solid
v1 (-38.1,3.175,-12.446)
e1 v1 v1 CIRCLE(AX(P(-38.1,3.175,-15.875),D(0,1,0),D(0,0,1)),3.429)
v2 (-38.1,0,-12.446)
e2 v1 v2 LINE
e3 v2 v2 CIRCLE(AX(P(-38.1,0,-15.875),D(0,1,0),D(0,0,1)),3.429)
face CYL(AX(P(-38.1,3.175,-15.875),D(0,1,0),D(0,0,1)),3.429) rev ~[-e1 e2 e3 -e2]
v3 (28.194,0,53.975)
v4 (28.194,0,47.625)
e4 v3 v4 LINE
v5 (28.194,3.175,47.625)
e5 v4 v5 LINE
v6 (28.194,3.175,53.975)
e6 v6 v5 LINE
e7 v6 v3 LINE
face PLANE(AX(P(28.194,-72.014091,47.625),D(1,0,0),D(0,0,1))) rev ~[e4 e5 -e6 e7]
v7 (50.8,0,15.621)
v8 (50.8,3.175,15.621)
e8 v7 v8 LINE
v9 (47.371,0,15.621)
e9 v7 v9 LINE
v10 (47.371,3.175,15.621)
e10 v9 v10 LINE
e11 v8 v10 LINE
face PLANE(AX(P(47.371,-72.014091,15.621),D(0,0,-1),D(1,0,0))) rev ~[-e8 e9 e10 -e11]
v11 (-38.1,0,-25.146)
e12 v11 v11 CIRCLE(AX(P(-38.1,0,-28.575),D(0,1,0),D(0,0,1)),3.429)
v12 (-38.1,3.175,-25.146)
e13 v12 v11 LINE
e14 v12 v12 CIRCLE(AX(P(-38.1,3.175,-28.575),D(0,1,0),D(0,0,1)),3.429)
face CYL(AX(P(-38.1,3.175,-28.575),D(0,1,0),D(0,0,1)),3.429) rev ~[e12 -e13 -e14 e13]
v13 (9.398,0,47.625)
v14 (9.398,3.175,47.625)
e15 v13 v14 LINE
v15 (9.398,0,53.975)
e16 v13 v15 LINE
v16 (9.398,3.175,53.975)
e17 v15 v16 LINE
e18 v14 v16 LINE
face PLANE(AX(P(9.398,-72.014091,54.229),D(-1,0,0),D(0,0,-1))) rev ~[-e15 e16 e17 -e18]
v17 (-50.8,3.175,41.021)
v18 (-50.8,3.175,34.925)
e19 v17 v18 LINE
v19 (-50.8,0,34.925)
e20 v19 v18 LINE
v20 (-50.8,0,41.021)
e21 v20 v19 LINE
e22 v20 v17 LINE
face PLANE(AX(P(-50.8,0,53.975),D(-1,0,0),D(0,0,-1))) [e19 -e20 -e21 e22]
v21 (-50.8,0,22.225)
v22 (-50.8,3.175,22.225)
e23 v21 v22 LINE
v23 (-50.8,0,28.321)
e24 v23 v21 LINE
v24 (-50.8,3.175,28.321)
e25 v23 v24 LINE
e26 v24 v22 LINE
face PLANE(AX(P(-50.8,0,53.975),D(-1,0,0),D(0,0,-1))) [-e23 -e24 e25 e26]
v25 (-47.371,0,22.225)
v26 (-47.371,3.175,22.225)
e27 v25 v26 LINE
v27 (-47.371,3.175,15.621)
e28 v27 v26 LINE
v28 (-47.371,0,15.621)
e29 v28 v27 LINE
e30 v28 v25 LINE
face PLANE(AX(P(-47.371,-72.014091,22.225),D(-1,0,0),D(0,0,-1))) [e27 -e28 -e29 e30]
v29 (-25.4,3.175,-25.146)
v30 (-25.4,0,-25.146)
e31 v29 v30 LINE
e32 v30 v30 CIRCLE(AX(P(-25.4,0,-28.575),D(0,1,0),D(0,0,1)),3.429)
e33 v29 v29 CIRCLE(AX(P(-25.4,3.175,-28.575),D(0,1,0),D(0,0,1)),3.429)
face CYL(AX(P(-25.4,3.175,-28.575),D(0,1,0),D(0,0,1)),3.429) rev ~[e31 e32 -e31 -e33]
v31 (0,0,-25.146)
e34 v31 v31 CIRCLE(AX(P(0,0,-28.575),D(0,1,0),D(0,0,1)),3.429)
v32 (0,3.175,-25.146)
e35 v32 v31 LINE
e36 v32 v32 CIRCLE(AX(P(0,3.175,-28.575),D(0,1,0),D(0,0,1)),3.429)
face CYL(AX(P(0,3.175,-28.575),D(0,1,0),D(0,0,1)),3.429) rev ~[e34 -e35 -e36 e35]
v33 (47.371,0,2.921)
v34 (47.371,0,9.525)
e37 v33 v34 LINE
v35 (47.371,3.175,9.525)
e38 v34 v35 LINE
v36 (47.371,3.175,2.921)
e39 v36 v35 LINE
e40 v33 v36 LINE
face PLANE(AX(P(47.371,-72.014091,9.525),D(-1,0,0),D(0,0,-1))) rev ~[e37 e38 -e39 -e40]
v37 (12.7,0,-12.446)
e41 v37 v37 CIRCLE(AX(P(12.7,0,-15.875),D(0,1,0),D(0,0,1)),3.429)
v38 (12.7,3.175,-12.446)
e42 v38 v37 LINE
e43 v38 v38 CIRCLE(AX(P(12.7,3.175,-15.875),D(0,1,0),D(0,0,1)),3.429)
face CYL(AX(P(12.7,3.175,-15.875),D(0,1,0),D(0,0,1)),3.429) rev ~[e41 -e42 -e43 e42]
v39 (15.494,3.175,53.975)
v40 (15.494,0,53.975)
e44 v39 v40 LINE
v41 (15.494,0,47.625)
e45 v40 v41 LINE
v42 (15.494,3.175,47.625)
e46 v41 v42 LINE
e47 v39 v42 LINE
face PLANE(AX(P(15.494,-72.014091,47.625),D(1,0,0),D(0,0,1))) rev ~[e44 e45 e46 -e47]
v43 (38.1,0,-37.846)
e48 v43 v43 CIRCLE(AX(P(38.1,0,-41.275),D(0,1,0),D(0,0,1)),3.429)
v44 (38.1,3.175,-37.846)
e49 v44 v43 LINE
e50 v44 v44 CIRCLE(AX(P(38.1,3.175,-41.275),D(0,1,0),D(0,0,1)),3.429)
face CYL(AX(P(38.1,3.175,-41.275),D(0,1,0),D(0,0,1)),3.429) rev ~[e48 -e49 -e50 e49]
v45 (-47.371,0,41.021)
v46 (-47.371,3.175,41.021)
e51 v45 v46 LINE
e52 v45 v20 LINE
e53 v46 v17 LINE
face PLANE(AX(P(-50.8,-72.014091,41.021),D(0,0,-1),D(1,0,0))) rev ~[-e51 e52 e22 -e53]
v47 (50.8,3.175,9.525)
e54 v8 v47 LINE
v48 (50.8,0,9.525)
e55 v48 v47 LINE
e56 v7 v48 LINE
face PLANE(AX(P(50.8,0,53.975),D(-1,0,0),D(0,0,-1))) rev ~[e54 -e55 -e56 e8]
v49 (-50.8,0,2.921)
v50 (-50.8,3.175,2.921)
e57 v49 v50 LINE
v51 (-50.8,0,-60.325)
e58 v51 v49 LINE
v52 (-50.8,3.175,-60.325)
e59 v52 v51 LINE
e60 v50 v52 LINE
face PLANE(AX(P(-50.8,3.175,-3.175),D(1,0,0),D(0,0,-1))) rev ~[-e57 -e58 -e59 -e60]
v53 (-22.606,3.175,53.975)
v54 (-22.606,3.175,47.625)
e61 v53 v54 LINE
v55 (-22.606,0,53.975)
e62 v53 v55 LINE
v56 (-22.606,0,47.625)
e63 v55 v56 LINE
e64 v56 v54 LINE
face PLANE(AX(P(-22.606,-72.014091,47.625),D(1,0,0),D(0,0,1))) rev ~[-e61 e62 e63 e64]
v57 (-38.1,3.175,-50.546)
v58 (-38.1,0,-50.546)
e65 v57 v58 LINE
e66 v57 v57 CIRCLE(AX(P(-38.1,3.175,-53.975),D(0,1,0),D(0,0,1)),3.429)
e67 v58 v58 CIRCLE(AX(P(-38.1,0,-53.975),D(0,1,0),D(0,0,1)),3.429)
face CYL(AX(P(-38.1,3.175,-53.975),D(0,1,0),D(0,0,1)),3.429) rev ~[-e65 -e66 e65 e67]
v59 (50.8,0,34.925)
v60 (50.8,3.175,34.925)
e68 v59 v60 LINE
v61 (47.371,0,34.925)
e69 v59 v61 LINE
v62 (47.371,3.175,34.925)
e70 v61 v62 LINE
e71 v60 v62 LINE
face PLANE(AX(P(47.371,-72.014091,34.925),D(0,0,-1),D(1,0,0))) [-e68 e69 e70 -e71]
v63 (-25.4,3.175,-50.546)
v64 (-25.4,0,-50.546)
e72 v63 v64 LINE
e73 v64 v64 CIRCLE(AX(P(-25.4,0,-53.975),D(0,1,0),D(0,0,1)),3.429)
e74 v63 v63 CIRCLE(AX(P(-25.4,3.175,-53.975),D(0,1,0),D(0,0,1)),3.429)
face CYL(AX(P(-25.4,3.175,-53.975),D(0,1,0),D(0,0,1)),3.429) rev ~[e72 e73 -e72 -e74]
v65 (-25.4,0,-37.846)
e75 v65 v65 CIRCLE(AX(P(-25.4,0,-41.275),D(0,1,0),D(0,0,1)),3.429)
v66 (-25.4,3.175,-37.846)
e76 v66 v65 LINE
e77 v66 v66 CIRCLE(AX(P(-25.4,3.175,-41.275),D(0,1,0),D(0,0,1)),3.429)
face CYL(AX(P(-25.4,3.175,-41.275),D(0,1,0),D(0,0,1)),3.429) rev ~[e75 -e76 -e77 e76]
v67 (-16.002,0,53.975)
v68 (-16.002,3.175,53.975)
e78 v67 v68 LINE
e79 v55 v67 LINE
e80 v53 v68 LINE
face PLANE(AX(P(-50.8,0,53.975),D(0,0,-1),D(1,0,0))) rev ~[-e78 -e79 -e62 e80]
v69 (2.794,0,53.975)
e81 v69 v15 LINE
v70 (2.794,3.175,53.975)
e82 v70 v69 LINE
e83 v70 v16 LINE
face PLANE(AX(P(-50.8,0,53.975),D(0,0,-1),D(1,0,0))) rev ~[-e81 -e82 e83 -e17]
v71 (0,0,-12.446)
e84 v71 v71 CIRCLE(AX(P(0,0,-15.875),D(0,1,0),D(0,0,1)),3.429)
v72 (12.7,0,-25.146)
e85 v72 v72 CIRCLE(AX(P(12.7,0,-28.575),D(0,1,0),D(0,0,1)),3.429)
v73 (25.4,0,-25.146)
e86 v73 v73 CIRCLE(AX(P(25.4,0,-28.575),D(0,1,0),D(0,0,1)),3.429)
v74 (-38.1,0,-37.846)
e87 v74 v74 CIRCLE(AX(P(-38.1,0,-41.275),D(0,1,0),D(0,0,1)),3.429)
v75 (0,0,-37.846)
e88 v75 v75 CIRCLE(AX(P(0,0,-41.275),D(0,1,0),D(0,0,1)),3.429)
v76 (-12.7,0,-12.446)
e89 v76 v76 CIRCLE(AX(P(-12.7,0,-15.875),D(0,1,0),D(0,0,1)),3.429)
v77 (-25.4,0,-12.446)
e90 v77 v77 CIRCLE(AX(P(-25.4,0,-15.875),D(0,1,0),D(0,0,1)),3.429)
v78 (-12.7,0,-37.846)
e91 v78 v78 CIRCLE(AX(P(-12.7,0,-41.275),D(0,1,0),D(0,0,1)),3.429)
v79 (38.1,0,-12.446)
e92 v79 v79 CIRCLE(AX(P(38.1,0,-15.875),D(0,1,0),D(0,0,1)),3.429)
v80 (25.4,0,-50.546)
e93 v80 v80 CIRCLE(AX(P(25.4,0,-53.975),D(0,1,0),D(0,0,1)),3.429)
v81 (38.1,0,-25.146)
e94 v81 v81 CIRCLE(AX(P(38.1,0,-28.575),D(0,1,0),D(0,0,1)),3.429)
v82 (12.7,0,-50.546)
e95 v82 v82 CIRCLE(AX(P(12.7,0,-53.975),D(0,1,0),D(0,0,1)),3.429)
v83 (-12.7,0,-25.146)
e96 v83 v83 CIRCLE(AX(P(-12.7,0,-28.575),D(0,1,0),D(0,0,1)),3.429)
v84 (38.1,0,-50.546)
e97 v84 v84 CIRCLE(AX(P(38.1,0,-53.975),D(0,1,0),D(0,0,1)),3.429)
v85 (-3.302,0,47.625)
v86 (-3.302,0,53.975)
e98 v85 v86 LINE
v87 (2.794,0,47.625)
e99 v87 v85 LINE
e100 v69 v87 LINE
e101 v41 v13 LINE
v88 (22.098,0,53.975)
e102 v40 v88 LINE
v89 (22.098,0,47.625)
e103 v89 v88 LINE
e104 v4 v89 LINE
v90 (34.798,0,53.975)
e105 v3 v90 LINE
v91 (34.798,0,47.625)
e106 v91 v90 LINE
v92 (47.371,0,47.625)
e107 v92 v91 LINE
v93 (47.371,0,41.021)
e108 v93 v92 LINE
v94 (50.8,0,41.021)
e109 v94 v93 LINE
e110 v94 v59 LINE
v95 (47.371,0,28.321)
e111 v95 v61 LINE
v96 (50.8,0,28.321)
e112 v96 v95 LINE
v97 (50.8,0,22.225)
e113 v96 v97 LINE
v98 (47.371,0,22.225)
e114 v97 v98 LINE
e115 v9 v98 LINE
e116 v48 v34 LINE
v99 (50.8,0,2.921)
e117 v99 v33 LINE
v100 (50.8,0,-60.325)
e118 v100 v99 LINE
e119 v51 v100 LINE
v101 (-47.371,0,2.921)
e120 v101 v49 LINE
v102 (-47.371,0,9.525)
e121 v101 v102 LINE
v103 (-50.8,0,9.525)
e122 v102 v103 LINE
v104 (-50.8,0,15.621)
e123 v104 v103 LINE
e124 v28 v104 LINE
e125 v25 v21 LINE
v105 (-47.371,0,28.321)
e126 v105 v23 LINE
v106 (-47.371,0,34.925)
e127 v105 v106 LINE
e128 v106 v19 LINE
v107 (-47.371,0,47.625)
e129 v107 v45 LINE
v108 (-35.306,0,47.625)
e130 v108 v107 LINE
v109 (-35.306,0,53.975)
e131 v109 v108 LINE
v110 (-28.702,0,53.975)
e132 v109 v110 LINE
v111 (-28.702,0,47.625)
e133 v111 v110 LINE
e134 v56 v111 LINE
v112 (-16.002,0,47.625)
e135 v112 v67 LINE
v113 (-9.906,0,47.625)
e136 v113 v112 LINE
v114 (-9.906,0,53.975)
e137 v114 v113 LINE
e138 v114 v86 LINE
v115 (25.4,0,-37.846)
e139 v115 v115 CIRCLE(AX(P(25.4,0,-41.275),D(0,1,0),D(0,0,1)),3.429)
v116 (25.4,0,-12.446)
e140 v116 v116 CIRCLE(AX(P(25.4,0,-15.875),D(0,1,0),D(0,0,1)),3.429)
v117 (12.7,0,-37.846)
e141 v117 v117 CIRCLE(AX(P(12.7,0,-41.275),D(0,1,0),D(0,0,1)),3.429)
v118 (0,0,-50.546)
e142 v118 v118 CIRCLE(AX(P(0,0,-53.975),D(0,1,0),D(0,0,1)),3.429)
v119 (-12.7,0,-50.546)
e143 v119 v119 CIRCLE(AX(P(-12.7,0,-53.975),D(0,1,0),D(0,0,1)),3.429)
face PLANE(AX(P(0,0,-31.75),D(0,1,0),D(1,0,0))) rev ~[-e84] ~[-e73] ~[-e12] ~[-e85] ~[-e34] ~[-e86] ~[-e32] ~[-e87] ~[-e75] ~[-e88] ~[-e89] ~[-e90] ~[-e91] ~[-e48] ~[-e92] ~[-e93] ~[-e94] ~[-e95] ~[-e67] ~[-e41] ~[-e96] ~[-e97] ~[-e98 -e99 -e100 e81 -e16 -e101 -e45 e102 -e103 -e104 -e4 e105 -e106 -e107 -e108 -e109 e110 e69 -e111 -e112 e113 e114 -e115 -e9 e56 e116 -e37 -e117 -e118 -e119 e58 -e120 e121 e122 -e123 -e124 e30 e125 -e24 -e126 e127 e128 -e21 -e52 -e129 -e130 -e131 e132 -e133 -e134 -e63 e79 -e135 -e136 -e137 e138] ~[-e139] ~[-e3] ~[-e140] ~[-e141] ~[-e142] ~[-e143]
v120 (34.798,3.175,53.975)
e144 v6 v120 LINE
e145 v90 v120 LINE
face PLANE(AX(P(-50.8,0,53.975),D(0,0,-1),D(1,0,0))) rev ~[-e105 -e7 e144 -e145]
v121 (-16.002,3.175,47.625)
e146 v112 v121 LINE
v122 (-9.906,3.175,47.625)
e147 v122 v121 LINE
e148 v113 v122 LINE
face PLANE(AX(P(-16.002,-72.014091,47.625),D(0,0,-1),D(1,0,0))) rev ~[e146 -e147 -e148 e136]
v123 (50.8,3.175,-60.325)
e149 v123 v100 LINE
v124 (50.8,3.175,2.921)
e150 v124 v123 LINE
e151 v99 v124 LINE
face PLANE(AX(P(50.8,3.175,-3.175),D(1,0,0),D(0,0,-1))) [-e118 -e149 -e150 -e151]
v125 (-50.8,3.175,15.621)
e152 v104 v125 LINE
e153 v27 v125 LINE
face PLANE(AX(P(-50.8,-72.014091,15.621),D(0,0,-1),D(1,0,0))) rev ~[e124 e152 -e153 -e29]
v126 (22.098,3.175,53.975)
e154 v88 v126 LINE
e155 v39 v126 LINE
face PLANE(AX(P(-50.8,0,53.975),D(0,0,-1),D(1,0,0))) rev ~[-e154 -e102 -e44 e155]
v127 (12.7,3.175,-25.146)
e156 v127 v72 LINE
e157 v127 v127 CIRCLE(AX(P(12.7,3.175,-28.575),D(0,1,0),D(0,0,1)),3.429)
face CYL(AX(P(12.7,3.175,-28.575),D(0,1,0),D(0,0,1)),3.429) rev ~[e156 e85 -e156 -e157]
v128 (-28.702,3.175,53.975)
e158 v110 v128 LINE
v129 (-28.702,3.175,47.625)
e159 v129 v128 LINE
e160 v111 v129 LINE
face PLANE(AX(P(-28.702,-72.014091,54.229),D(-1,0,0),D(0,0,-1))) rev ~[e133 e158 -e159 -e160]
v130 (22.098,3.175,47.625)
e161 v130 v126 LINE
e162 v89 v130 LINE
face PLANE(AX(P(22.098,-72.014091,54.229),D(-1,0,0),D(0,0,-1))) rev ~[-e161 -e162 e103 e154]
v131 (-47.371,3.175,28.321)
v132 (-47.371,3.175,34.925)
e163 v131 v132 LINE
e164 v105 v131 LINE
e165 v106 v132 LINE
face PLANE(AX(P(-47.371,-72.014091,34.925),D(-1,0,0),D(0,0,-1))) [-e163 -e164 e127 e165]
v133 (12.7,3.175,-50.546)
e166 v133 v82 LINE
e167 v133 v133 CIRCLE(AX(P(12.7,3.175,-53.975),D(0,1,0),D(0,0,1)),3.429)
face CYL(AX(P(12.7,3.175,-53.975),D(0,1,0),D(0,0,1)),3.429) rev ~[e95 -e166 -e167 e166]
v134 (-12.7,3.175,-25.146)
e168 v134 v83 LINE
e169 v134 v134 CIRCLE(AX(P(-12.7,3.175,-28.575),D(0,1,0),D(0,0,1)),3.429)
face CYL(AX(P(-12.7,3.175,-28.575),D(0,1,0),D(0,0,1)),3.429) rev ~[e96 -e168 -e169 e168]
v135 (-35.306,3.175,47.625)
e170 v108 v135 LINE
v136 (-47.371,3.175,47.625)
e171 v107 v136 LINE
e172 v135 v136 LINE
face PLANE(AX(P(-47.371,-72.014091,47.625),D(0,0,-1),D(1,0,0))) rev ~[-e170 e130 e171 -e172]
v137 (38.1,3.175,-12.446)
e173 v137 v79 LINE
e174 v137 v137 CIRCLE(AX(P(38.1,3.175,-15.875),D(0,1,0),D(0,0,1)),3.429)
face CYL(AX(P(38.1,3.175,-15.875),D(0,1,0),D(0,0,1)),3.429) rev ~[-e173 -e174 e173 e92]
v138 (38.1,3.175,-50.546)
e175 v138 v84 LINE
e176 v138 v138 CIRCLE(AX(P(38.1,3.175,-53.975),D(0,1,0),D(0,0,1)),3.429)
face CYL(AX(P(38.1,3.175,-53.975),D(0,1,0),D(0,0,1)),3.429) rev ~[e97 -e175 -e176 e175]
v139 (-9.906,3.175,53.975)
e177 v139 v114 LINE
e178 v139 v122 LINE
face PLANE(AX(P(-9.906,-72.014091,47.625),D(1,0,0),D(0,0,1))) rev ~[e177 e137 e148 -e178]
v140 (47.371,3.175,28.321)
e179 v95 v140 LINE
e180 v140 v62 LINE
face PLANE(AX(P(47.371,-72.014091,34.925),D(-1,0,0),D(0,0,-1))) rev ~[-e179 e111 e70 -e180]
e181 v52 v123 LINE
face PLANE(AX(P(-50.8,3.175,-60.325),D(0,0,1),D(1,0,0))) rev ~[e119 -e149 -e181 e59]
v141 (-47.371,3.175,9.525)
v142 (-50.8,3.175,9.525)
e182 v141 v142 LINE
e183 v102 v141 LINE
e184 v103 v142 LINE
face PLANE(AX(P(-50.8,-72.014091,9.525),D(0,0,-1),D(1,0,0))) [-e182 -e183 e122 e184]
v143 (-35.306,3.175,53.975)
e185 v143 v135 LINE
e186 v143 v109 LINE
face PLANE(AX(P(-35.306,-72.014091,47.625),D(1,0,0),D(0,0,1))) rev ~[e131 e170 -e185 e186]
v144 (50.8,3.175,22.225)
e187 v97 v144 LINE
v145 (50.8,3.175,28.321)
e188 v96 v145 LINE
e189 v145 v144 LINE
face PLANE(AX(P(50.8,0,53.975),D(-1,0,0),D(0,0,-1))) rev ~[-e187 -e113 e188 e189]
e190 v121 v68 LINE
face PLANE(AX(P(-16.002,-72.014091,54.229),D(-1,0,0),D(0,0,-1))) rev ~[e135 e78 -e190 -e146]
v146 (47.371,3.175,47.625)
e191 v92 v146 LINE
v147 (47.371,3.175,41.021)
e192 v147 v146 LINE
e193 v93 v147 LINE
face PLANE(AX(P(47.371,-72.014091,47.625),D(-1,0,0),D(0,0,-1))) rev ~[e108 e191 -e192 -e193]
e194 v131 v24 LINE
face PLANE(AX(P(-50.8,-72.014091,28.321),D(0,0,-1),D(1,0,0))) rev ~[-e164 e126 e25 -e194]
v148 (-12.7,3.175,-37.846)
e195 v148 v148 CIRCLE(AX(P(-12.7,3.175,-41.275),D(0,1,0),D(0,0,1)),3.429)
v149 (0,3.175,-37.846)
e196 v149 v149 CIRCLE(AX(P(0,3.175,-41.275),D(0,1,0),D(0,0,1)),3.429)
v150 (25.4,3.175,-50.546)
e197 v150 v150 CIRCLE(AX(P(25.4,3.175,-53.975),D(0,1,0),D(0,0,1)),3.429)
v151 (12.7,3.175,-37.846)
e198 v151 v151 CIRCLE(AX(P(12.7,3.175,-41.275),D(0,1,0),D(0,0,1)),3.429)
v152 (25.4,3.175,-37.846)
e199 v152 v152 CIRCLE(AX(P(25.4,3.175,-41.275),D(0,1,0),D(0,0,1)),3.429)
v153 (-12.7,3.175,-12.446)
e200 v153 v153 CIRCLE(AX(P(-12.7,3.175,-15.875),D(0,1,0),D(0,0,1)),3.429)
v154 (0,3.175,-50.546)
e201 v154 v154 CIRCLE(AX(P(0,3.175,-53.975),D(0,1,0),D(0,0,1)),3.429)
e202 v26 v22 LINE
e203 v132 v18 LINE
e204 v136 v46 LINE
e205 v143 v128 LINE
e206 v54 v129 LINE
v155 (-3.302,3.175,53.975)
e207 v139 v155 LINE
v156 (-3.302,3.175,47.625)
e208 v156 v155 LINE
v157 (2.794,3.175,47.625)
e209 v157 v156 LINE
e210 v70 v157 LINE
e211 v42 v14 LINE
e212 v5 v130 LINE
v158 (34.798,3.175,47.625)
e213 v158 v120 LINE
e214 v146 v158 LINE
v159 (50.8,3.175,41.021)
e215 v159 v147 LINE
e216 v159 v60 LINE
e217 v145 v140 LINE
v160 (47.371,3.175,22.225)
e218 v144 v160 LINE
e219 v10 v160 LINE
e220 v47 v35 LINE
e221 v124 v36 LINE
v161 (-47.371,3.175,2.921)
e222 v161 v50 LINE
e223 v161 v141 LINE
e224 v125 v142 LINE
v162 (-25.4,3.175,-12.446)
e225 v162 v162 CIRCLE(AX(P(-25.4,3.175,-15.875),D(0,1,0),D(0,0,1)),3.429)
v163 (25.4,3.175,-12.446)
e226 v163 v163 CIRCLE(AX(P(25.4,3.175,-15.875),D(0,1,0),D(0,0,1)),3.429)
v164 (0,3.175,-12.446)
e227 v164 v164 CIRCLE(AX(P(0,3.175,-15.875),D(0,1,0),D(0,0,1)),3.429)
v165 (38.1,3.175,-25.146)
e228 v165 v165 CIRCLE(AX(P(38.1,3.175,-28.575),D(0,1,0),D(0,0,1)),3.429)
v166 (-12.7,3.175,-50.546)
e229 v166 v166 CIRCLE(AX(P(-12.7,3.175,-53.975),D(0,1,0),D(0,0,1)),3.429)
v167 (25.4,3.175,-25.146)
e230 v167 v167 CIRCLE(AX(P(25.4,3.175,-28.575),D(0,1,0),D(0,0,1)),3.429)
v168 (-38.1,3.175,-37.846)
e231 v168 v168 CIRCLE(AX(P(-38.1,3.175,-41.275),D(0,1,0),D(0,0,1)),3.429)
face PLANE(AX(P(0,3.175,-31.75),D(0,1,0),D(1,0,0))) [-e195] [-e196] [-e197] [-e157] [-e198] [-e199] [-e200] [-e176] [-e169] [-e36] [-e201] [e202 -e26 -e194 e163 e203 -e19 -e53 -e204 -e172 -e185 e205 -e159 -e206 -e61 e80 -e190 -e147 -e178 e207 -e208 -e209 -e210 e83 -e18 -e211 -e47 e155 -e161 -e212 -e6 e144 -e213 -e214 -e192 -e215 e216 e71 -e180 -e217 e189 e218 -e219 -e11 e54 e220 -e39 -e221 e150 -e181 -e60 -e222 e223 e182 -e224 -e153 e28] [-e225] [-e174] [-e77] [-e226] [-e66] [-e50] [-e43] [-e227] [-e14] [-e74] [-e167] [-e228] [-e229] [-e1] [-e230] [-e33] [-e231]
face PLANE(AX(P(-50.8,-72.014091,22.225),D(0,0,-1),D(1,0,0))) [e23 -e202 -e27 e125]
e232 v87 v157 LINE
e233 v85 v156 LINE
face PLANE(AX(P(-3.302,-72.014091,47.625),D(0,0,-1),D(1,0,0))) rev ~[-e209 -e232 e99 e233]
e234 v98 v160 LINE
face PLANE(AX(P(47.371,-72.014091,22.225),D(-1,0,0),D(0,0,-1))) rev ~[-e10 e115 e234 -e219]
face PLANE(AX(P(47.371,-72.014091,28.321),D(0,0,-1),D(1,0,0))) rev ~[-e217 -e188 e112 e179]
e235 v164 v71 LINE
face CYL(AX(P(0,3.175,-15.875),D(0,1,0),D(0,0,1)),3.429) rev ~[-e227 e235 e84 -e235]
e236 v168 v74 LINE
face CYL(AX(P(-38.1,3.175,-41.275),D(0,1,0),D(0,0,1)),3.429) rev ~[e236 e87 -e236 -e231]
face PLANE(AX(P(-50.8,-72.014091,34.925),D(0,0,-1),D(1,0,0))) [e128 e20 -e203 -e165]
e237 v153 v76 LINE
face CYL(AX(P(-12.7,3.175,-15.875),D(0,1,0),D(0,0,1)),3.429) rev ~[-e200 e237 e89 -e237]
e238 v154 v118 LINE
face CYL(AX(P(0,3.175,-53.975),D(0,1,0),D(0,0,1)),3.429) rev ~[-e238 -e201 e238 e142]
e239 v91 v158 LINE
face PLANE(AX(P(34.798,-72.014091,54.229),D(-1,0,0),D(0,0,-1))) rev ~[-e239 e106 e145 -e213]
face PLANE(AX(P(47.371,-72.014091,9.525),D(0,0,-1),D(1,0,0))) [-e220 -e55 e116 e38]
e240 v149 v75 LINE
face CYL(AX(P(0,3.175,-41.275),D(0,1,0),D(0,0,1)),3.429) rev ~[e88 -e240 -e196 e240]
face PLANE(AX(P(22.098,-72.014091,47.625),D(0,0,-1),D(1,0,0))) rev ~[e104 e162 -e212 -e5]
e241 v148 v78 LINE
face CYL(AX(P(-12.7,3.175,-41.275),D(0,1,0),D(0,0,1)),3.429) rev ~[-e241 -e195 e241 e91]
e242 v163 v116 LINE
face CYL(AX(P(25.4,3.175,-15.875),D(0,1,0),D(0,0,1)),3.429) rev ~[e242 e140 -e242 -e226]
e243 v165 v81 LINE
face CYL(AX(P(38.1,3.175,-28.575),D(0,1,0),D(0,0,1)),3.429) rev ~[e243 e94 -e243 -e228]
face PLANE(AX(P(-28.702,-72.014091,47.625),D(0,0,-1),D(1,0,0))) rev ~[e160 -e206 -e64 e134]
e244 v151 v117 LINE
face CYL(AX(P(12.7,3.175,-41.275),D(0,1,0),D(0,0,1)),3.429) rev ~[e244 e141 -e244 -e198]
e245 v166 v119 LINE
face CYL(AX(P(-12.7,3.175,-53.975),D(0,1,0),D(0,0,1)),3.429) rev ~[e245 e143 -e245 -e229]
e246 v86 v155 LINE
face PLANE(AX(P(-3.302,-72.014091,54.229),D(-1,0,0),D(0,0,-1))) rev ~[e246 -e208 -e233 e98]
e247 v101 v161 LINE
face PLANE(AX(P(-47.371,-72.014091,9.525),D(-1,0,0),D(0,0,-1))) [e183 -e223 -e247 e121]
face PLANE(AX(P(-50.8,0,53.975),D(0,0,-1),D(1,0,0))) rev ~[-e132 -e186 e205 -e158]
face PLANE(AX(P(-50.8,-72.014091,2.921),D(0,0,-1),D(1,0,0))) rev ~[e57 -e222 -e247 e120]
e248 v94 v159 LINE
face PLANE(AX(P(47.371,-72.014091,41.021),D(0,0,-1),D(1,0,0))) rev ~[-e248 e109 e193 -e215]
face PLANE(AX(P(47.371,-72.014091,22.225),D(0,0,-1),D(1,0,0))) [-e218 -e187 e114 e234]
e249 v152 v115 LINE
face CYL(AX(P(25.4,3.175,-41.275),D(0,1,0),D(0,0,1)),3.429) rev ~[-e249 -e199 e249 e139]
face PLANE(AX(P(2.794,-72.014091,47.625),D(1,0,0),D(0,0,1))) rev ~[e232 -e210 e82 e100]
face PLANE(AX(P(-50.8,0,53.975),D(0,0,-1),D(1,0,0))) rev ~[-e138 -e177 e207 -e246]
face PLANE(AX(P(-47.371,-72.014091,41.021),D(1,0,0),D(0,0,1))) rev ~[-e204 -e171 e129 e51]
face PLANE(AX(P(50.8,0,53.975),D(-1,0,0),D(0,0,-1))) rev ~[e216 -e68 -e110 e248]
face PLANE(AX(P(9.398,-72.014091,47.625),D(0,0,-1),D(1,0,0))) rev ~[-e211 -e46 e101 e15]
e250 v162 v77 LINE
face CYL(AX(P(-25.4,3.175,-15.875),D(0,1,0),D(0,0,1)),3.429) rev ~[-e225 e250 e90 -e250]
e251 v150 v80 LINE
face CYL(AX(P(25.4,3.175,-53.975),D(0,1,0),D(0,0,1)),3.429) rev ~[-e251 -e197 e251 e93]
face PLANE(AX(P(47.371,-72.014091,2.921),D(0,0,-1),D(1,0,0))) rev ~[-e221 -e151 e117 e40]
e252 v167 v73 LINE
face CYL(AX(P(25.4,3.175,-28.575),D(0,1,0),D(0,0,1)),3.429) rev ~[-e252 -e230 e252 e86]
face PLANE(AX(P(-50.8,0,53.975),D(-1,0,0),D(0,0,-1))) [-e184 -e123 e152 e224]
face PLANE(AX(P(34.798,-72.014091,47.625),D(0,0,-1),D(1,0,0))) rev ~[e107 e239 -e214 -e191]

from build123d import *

# Parameters (mm, degrees)
SKETCH1_W               = 101.6
SKETCH1_H               = 107.95
BOSS_EXTRUDE1_DEPTH     = 3.175
CUT_EXTRUDE1_DEPTH      = 75.189091179
CUT_EXTRUDE1_DEPTH_BACK = 75.189091179
SKETCH2_W               = 3.429
SKETCH2_H               = 6.604
SKETCH3_W               = 101.6
SKETCH3_H               = 50.8
CUT_EXTRUDE2_DEPTH      = 75.189091179
SKETCH4_W               = 101.6
SKETCH4_H               = 57.15
SKETCH4_R               = 3.429
BOSS_EXTRUDE2_DEPTH     = 3.175


with BuildPart() as part:
    # Sketch1 → Boss-Extrude1 (new body)
    with BuildSketch(Plane(origin=(0, 0, 0), x_dir=(1, 0, 0), z_dir=(0, 1, 0))):
        Rectangle(SKETCH1_W, SKETCH1_H)
    extrude(amount=BOSS_EXTRUDE1_DEPTH)

    # Sketch2 → Cut-Extrude1 (cut, two sides: drawn at the far end of the back side and taken through both)
    with BuildSketch(Plane(origin=(0, 3.175, 0), x_dir=(1, 0, 0), z_dir=(0, 1, 0)).offset(-CUT_EXTRUDE1_DEPTH_BACK)):
        Polygon((22.098, -47.625), (28.194, -47.625), (28.194, -54.229), (34.798, -54.229), (34.798, -47.625), (47.371, -47.625), (47.371, -41.021), (50.8, -41.021), (50.8, -47.625), (50.8, -92.544961432), (-50.8, -92.544961432), (-50.8, -47.625), (-50.8, -41.021), (-47.371, -41.021), (-47.371, -47.625), (-35.306, -47.625), (-35.306, -54.229), (-28.702, -54.229), (-28.702, -47.625), (-22.606, -47.625), (-22.606, -54.229), (-16.002, -54.229), (-16.002, -47.625), (-9.906, -47.625), (-9.906, -54.229), (-3.302, -54.229), (-3.302, -47.625), (2.794, -47.625), (2.794, -54.229), (9.398, -54.229), (9.398, -47.625), (15.494, -47.625), (15.494, -54.229), (22.098, -54.229), align=None)
        with Locations((-49.0855, 31.75)):
            Rectangle(SKETCH2_W, SKETCH2_H)
        with Locations((-49.0855, 19.177)):
            Rectangle(SKETCH2_W, SKETCH2_H)
        with Locations((-49.0855, 6.477)):
            Rectangle(SKETCH2_W, SKETCH2_H)
        with Locations((-49.0855, -6.223)):
            Rectangle(SKETCH2_W, SKETCH2_H)
        with Locations((-49.0855, -18.923)):
            Rectangle(SKETCH2_W, SKETCH2_H)
        with Locations((-49.0855, -31.623)):
            Rectangle(SKETCH2_W, SKETCH2_H)
        with Locations((49.0855, -31.623)):
            Rectangle(SKETCH2_W, SKETCH2_H)
        with Locations((49.0855, -18.923)):
            Rectangle(SKETCH2_W, SKETCH2_H)
        with Locations((49.0855, -6.223)):
            Rectangle(SKETCH2_W, SKETCH2_H)
        with Locations((49.0855, 6.477)):
            Rectangle(SKETCH2_W, SKETCH2_H)
        with Locations((49.0855, 19.177)):
            Rectangle(SKETCH2_W, SKETCH2_H)
        with Locations((49.0855, 31.75)):
            Rectangle(SKETCH2_W, SKETCH2_H)
        with Locations((49.0855, 44.45)):
            Rectangle(SKETCH2_W, SKETCH2_H)
        with Locations((-49.0855, 44.45)):
            Rectangle(SKETCH2_W, SKETCH2_H)
    extrude(amount=CUT_EXTRUDE1_DEPTH + CUT_EXTRUDE1_DEPTH_BACK, mode=Mode.SUBTRACT)

    # Sketch3 → Cut-Extrude2 (cut, through all)
    with BuildSketch(Plane(origin=(0, 3.175, 0), x_dir=(1, 0, 0), z_dir=(0, 1, 0))):
        with Locations((0, 28.575)):
            Rectangle(SKETCH3_W, SKETCH3_H)
    extrude(amount=-CUT_EXTRUDE2_DEPTH, mode=Mode.SUBTRACT)

    # Sketch4 → Boss-Extrude2 (add)
    with BuildSketch(Plane(origin=(0, 3.175, 0), x_dir=(1, 0, 0), z_dir=(0, 1, 0))):
        with Locations((0, 31.75)):
            Rectangle(SKETCH4_W, SKETCH4_H)
        with Locations(Location((-38.1, 15.875, 0), (0, 0, 270))):
            Circle(SKETCH4_R, mode=Mode.SUBTRACT)
        with Locations(Location((-25.4, 15.875, 0), (0, 0, 270))):
            Circle(SKETCH4_R, mode=Mode.SUBTRACT)
        with Locations(Location((-12.7, 15.875, 0), (0, 0, 270))):
            Circle(SKETCH4_R, mode=Mode.SUBTRACT)
        with Locations(Location((0, 15.875, 0), (0, 0, 270))):
            Circle(SKETCH4_R, mode=Mode.SUBTRACT)
        with Locations(Location((12.7, 15.875, 0), (0, 0, 270))):
            Circle(SKETCH4_R, mode=Mode.SUBTRACT)
        with Locations(Location((25.4, 15.875, 0), (0, 0, 270))):
            Circle(SKETCH4_R, mode=Mode.SUBTRACT)
        with Locations(Location((38.1, 15.875, 0), (0, 0, 270))):
            Circle(SKETCH4_R, mode=Mode.SUBTRACT)
        with Locations(Location((-25.4, 28.575, 0), (0, 0, 270))):
            Circle(SKETCH4_R, mode=Mode.SUBTRACT)
        with Locations(Location((-12.7, 28.575, 0), (0, 0, 270))):
            Circle(SKETCH4_R, mode=Mode.SUBTRACT)
        with Locations(Location((0, 28.575, 0), (0, 0, 270))):
            Circle(SKETCH4_R, mode=Mode.SUBTRACT)
        with Locations(Location((12.7, 28.575, 0), (0, 0, 270))):
            Circle(SKETCH4_R, mode=Mode.SUBTRACT)
        with Locations(Location((25.4, 28.575, 0), (0, 0, 270))):
            Circle(SKETCH4_R, mode=Mode.SUBTRACT)
        with Locations(Location((38.1, 28.575, 0), (0, 0, 270))):
            Circle(SKETCH4_R, mode=Mode.SUBTRACT)
        with Locations(Location((-25.4, 41.275, 0), (0, 0, 270))):
            Circle(SKETCH4_R, mode=Mode.SUBTRACT)
        with Locations(Location((-12.7, 41.275, 0), (0, 0, 270))):
            Circle(SKETCH4_R, mode=Mode.SUBTRACT)
        with Locations(Location((0, 41.275, 0), (0, 0, 270))):
            Circle(SKETCH4_R, mode=Mode.SUBTRACT)
        with Locations(Location((12.7, 41.275, 0), (0, 0, 270))):
            Circle(SKETCH4_R, mode=Mode.SUBTRACT)
        with Locations(Location((25.4, 41.275, 0), (0, 0, 270))):
            Circle(SKETCH4_R, mode=Mode.SUBTRACT)
        with Locations(Location((38.1, 41.275, 0), (0, 0, 270))):
            Circle(SKETCH4_R, mode=Mode.SUBTRACT)
        with Locations(Location((-25.4, 53.975, 0), (0, 0, 270))):
            Circle(SKETCH4_R, mode=Mode.SUBTRACT)
        with Locations(Location((-12.7, 53.975, 0), (0, 0, 270))):
            Circle(SKETCH4_R, mode=Mode.SUBTRACT)
        with Locations(Location((0, 53.975, 0), (0, 0, 270))):
            Circle(SKETCH4_R, mode=Mode.SUBTRACT)
        with Locations(Location((12.7, 53.975, 0), (0, 0, 270))):
            Circle(SKETCH4_R, mode=Mode.SUBTRACT)
        with Locations(Location((25.4, 53.975, 0), (0, 0, 270))):
            Circle(SKETCH4_R, mode=Mode.SUBTRACT)
        with Locations(Location((38.1, 53.975, 0), (0, 0, 270))):
            Circle(SKETCH4_R, mode=Mode.SUBTRACT)
        with Locations(Location((-38.1, 28.575, 0), (0, 0, 270))):
            Circle(SKETCH4_R, mode=Mode.SUBTRACT)
        with Locations(Location((-38.1, 41.275, 0), (0, 0, 270))):
            Circle(SKETCH4_R, mode=Mode.SUBTRACT)
        with Locations(Location((-38.1, 53.975, 0), (0, 0, 270))):
            Circle(SKETCH4_R, mode=Mode.SUBTRACT)
    extrude(amount=-BOSS_EXTRUDE2_DEPTH)


solid = part.part
